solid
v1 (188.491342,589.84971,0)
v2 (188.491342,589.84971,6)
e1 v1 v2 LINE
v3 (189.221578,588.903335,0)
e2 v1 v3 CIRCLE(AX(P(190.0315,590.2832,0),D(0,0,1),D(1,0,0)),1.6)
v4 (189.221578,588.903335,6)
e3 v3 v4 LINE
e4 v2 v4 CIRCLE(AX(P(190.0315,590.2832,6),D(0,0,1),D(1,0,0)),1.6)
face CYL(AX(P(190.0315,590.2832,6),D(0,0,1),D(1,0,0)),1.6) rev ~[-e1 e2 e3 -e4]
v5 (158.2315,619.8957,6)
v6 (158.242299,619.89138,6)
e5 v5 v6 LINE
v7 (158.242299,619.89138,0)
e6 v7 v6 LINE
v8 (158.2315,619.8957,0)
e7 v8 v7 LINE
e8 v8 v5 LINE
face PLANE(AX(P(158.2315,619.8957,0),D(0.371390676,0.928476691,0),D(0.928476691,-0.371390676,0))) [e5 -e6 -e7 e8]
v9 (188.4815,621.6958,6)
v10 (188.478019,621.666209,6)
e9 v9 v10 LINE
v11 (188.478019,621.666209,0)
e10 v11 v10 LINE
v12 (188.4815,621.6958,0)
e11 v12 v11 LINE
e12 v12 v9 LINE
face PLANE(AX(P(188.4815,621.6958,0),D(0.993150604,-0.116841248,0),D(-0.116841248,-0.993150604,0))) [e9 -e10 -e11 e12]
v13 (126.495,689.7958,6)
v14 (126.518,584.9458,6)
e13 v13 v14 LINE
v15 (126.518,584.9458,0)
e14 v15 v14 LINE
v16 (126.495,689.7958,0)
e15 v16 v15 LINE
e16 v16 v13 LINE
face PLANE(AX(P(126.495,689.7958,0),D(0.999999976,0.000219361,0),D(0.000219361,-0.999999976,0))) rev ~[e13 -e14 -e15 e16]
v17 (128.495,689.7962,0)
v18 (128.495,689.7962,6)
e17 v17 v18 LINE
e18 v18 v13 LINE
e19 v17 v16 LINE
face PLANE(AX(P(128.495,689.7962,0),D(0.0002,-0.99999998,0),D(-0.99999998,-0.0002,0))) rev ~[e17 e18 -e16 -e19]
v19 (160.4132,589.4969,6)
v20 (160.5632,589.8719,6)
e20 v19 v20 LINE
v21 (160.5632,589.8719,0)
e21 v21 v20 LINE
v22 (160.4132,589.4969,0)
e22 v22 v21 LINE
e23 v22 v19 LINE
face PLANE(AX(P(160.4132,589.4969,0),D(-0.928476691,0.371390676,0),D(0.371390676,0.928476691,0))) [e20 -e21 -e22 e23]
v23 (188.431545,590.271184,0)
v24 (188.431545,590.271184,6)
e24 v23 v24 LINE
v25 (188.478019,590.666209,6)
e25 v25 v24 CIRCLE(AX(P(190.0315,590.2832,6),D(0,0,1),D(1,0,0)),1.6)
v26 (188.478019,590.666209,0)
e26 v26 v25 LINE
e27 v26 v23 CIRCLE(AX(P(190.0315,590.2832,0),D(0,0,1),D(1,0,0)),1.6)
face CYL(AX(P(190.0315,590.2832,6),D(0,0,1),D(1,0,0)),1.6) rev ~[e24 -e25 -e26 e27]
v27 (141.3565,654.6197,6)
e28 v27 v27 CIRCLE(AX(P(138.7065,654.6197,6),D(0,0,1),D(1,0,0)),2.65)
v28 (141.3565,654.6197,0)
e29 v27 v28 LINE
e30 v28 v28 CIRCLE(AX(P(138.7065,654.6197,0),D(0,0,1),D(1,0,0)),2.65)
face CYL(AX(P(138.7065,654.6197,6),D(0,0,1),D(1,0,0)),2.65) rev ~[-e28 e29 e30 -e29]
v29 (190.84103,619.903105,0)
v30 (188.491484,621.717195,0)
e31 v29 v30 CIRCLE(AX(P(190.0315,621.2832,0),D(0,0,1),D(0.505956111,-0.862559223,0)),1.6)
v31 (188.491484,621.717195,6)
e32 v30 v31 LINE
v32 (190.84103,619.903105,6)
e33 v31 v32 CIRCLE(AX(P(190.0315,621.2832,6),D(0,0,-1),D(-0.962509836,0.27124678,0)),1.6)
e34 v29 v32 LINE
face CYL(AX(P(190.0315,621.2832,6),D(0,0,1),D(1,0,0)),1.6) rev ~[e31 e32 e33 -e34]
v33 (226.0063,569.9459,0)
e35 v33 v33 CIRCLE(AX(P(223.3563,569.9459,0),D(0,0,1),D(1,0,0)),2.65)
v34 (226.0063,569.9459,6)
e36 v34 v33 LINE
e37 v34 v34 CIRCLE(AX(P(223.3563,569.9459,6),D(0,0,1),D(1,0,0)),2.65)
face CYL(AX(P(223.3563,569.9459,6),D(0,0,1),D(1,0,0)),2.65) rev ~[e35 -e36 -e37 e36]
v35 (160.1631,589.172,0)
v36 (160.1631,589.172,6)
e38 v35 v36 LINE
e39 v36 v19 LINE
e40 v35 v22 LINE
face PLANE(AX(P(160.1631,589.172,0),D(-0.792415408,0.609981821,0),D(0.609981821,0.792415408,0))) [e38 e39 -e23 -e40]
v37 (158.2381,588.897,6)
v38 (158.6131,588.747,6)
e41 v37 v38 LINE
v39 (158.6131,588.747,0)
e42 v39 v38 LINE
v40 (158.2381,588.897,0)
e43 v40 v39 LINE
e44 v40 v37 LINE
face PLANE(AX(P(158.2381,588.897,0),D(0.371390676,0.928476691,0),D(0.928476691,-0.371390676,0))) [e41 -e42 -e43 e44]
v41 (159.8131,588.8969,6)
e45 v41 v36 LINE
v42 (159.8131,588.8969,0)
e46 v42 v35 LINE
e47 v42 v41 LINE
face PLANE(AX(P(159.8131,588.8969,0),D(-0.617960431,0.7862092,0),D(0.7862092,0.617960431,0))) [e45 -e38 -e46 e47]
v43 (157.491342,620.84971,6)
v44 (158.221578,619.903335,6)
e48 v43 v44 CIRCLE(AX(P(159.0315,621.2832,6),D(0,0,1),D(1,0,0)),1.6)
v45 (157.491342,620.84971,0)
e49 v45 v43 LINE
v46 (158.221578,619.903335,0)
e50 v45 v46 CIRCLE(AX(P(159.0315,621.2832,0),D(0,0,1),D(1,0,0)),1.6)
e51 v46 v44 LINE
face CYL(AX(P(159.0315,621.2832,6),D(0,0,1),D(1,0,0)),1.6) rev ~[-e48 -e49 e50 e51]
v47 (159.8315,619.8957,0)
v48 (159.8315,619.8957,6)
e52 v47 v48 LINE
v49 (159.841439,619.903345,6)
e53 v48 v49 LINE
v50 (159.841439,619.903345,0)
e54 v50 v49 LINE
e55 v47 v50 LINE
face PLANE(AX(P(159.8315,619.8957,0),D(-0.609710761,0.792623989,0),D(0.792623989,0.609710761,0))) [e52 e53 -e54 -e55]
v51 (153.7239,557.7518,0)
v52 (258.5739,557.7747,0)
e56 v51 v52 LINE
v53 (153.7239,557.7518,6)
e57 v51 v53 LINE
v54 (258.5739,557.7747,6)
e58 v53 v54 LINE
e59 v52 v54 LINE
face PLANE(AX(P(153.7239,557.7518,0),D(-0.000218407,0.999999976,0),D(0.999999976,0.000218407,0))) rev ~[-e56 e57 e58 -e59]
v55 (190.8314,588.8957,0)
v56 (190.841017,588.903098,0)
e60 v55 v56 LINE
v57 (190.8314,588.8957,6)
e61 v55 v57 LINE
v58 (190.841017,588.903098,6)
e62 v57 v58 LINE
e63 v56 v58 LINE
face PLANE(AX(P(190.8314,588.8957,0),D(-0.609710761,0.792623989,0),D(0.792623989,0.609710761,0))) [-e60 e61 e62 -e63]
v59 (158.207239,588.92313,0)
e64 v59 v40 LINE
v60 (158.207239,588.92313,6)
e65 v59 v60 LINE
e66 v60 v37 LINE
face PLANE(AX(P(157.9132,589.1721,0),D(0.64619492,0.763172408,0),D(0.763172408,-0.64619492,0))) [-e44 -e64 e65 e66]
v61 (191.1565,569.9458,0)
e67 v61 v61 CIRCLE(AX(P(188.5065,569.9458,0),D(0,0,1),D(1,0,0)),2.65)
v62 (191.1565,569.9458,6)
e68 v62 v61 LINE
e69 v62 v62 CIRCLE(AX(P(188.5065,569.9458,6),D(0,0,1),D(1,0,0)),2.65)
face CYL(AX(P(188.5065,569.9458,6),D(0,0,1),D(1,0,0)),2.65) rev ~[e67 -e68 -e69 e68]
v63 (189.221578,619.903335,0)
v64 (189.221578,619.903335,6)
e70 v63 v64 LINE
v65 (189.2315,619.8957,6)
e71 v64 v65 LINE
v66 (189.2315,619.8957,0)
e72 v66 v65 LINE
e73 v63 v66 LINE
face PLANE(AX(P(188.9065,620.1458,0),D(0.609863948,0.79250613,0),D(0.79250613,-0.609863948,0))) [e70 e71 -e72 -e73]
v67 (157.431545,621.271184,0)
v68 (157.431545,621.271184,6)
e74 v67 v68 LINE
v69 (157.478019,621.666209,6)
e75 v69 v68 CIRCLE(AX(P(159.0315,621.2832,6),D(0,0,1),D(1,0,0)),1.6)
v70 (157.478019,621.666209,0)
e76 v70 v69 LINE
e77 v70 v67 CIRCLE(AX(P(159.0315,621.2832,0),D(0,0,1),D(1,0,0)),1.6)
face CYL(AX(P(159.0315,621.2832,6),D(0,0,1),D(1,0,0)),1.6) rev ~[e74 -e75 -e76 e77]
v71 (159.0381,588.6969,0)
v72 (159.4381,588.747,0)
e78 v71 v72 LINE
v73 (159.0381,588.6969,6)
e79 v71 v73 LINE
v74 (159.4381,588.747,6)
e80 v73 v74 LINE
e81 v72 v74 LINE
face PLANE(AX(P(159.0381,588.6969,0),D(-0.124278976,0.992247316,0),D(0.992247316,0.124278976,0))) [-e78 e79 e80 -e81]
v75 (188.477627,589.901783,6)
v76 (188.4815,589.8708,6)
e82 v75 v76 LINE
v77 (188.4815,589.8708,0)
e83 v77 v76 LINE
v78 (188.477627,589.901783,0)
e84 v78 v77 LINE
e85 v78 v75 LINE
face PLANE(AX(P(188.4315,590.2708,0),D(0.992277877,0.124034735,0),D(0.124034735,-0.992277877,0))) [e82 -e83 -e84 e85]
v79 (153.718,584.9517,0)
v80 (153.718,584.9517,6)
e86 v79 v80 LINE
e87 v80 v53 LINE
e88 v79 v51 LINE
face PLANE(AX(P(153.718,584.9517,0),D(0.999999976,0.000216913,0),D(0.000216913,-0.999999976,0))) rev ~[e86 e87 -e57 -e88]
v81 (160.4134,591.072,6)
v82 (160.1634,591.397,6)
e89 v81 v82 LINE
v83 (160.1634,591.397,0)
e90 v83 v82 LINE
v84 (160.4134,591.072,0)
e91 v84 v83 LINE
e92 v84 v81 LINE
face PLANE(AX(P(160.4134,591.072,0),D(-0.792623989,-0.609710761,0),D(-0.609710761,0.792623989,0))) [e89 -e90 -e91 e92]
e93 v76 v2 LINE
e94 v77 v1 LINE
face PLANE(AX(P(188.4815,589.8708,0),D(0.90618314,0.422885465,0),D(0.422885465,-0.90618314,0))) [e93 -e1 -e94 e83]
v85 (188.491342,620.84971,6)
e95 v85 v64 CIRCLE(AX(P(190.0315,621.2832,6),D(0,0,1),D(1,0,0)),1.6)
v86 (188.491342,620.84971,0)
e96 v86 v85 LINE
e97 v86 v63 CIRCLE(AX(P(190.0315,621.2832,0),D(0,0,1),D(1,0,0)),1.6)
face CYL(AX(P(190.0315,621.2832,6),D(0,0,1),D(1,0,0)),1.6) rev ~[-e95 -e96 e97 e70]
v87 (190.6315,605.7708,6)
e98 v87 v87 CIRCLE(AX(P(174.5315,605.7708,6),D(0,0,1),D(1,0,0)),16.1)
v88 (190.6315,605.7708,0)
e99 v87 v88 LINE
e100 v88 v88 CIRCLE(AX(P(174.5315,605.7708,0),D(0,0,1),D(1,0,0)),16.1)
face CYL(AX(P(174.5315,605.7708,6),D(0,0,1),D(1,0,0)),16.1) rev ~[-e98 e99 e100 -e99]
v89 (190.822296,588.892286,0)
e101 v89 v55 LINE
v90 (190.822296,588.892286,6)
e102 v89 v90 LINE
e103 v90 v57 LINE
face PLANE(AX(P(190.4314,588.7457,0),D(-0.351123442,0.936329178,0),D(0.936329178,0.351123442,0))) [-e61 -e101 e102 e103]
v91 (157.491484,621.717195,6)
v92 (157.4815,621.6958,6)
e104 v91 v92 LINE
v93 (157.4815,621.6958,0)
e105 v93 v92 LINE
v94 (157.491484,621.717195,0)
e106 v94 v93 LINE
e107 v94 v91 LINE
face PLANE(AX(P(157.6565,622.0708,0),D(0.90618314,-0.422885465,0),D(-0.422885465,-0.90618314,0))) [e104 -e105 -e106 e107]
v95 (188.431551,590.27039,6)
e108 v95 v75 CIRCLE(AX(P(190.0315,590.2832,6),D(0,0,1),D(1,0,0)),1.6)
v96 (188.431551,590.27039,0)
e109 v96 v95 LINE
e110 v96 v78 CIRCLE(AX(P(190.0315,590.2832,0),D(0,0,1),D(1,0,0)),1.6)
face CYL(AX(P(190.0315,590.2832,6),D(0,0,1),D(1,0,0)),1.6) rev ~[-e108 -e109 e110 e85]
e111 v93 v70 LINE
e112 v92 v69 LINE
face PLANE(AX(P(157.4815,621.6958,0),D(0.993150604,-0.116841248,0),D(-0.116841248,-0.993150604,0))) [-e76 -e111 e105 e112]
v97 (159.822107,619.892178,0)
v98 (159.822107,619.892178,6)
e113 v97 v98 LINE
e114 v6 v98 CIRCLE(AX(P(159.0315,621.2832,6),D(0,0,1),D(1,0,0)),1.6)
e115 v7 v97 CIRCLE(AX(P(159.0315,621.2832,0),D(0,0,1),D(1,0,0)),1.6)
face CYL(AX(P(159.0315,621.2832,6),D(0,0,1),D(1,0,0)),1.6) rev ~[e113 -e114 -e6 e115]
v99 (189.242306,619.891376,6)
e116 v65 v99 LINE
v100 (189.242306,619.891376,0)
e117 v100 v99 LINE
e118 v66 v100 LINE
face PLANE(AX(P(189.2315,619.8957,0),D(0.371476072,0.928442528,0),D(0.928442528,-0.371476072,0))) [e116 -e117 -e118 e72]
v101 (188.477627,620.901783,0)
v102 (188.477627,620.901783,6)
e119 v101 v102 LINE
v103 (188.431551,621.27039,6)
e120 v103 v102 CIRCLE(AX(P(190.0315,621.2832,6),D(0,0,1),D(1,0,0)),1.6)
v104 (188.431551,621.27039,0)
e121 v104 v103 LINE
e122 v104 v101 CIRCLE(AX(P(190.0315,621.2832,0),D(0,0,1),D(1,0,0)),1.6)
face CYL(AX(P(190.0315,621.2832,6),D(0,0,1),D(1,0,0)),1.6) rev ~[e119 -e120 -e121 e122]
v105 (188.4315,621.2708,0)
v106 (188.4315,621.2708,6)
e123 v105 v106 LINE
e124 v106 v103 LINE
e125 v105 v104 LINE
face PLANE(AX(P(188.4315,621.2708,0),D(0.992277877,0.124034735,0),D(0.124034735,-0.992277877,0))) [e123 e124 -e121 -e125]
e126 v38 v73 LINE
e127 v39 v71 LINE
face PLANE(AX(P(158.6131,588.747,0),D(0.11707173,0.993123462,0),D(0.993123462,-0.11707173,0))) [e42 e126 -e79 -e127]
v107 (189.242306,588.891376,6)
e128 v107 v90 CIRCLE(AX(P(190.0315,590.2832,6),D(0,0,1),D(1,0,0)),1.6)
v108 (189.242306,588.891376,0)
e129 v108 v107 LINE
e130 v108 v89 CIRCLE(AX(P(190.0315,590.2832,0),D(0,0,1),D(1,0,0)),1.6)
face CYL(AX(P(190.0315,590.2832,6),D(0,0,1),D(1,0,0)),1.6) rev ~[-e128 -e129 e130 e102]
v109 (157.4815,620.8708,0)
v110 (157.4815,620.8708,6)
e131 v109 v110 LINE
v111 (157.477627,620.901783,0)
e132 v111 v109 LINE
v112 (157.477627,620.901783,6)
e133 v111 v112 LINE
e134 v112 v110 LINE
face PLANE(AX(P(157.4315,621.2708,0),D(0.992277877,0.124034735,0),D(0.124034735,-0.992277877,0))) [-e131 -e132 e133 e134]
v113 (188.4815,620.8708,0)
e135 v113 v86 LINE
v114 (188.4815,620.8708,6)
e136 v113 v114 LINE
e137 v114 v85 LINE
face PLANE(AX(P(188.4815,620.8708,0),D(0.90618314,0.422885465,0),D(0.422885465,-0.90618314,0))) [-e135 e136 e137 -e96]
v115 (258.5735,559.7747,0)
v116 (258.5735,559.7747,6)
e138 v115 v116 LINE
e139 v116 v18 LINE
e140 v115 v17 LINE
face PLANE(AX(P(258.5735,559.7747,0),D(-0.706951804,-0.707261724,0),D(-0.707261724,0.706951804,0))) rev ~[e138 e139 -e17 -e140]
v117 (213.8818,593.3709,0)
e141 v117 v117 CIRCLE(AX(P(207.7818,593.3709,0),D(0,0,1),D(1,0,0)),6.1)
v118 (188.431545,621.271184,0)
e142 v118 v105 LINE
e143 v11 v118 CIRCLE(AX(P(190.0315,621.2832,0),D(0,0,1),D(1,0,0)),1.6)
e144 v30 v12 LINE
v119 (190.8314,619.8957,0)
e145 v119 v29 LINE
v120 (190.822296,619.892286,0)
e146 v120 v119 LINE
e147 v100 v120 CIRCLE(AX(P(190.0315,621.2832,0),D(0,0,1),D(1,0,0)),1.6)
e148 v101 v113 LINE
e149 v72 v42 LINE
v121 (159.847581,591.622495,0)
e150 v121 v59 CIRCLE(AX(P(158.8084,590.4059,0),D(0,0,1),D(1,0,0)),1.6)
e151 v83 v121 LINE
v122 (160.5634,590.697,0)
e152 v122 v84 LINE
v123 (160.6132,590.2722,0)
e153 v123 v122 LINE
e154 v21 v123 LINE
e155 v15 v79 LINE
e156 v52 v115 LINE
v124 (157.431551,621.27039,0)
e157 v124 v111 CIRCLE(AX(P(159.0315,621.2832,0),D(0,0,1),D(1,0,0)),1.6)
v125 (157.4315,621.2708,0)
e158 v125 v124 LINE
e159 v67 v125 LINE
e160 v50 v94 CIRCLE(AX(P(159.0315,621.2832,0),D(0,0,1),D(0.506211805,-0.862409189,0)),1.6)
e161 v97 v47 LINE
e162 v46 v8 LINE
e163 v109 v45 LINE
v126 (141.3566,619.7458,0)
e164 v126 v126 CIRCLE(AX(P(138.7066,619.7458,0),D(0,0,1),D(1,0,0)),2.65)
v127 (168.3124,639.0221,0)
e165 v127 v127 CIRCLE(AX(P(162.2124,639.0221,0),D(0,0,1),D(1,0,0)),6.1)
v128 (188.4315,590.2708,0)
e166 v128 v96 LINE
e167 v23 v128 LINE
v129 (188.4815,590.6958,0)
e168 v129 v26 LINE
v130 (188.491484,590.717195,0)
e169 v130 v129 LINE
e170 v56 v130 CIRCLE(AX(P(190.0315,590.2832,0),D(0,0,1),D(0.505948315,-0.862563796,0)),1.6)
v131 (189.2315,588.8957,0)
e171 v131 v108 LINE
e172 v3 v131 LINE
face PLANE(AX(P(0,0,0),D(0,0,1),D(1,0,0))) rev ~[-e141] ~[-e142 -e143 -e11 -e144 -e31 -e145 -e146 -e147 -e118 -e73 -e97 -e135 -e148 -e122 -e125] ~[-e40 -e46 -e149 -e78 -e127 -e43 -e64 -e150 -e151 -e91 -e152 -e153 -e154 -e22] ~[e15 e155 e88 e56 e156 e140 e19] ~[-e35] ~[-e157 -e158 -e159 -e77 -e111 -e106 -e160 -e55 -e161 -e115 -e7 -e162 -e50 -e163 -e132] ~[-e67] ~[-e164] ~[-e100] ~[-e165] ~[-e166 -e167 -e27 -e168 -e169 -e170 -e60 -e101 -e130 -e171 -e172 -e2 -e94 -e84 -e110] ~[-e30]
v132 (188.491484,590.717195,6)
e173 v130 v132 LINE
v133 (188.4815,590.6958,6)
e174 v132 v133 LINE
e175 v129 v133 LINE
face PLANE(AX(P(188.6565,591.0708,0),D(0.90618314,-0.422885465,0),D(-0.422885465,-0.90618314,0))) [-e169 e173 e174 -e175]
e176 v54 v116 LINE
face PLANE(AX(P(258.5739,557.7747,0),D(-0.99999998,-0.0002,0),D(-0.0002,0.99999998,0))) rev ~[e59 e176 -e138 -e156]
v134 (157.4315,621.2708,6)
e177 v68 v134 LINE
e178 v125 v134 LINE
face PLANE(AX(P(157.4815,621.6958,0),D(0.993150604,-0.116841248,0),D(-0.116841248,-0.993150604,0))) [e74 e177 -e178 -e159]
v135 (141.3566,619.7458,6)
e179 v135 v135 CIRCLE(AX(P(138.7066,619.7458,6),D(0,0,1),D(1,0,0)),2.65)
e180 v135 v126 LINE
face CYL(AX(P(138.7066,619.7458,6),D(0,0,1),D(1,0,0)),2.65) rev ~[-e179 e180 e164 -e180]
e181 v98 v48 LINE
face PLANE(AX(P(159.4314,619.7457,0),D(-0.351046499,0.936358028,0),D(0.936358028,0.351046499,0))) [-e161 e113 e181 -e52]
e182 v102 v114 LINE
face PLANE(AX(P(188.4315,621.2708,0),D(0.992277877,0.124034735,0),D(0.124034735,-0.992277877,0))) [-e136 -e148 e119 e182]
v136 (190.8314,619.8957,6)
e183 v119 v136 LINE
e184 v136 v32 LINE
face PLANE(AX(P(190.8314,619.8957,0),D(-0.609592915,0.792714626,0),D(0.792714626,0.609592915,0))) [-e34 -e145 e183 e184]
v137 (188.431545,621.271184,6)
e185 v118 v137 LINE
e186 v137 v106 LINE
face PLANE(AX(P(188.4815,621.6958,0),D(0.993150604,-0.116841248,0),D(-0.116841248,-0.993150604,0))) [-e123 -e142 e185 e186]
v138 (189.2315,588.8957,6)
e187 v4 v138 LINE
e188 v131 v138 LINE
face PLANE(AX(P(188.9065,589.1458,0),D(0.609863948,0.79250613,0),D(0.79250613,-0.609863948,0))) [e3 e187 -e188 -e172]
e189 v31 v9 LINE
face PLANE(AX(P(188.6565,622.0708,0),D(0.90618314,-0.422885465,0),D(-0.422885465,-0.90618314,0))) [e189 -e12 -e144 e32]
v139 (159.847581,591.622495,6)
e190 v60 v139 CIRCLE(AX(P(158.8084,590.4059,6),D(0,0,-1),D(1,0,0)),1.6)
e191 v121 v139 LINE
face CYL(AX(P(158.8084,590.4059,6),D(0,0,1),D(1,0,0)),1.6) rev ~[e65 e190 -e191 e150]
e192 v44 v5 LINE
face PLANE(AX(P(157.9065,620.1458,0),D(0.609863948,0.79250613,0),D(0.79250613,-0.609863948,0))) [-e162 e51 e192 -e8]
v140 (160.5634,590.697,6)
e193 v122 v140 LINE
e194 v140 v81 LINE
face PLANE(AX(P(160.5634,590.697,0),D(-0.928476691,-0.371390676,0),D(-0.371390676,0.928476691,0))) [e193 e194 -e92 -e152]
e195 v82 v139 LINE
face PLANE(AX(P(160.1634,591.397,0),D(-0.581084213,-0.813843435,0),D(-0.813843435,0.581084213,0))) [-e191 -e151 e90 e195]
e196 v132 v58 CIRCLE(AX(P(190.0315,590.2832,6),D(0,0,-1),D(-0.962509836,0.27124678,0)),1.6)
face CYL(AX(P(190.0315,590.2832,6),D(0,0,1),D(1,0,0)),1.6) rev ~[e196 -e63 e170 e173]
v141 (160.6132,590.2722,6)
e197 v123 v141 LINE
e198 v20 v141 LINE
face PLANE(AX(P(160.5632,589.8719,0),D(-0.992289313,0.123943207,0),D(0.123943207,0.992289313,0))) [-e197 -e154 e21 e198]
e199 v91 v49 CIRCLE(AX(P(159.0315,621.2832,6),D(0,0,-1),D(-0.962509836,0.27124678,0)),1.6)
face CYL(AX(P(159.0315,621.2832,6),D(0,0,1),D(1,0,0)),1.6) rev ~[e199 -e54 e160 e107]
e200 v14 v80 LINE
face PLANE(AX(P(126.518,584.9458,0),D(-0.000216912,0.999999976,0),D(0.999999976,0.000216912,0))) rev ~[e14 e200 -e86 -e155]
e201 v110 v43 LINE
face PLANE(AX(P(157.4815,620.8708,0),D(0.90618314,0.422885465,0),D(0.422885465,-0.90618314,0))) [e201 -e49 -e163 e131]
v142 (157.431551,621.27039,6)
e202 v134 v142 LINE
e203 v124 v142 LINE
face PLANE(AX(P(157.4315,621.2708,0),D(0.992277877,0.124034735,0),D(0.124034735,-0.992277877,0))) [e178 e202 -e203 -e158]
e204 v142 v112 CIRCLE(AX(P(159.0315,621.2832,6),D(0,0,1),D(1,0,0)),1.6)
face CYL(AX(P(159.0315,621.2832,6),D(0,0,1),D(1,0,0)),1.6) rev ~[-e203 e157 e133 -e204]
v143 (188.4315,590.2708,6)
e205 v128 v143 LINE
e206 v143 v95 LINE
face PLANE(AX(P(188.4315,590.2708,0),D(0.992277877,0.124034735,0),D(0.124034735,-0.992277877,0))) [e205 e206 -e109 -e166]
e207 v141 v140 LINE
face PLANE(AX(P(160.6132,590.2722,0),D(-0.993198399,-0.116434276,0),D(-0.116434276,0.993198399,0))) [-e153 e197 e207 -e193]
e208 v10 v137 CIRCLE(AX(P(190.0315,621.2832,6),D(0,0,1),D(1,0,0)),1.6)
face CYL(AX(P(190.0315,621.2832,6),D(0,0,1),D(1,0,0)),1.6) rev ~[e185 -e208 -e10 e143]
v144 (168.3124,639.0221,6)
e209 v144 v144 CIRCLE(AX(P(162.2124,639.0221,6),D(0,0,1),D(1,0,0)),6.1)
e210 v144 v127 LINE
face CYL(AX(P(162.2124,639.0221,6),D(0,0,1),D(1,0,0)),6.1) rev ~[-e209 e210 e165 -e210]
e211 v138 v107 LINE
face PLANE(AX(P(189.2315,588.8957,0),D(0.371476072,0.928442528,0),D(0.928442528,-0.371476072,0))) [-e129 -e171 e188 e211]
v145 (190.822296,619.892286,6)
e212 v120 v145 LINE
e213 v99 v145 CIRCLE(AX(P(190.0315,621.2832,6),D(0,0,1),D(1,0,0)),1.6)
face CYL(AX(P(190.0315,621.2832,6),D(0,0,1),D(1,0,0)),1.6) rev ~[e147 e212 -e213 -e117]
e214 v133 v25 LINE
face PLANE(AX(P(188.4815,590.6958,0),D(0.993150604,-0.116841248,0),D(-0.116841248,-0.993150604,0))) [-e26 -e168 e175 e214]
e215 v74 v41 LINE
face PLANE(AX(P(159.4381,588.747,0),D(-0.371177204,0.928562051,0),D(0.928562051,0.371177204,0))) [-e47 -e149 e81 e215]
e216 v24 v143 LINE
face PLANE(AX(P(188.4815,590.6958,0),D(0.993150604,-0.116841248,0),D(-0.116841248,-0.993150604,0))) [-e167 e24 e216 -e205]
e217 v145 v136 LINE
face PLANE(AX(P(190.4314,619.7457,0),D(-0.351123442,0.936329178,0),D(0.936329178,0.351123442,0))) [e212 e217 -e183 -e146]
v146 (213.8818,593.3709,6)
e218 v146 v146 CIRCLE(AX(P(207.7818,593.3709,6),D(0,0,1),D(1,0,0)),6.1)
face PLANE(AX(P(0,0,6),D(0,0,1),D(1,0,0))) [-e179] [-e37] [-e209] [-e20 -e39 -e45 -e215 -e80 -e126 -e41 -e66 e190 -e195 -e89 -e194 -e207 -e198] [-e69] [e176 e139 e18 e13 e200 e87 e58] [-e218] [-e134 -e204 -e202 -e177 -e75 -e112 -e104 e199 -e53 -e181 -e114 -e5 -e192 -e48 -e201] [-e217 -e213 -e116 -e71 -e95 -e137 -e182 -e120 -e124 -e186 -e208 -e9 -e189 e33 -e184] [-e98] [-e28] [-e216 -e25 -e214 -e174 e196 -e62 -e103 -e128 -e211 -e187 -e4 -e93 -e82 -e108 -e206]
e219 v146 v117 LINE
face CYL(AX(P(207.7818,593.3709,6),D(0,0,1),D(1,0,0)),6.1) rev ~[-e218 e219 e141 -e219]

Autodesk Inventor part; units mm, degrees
ref_plane "YZ Plane" through (0, 0, 0) normal (1, 0, 0) x (0, 1, 0)
ref_plane "XZ Plane" through (0, 0, 0) normal (0, 1, 0) x (-1, 0, 0)
ref_plane "XY Plane" through (0, 0, 0) normal (0, 0, 1) x (1, 0, 0)
sketch "Sketch1" plane through (0, 0, 0) normal (0, 0, 1) x (1, 0, 0)
  line L0 (141.1314, 655.2458) -> (140.8814, 655.8708)
  line L1 (140.8814, 655.8708) -> (140.4815, 656.3958)
  line L2 (140.4815, 656.3958) -> (139.9565, 656.7958)
  line L3 (139.9565, 656.7958) -> (139.3565, 657.0458)
  line L4 (139.3565, 657.0458) -> (138.7065, 657.1208)
  line L5 (138.7065, 657.1208) -> (138.0565, 657.0457)
  line L6 (138.0565, 657.0457) -> (137.4315, 656.7958)
  line L7 (137.4315, 656.7958) -> (136.9065, 656.3958)
  line L8 (136.9065, 656.3958) -> (136.5065, 655.8708)
  line L9 (136.5065, 655.8708) -> (136.2565, 655.2458)
  line L10 (136.2565, 655.2458) -> (136.1815, 654.5958)
  line L11 (136.1815, 654.5958) -> (136.2565, 653.9458)
  line L12 (136.2565, 653.9458) -> (136.5066, 653.3458)
  line L13 (136.5066, 653.3458) -> (136.9065, 652.8208)
  line L14 (136.9065, 652.8208) -> (137.4315, 652.4208)
  line L15 (137.4315, 652.4208) -> (138.0566, 652.1708)
  line L16 (138.0566, 652.1708) -> (138.7065, 652.0958)
  line L17 (138.7065, 652.0958) -> (139.3565, 652.1708)
  line L18 (139.3565, 652.1708) -> (139.9565, 652.4209)
  line L19 (139.9565, 652.4209) -> (140.4815, 652.8208)
  line L20 (140.4815, 652.8208) -> (140.8815, 653.3458)
  line L21 (140.8815, 653.3458) -> (141.1316, 653.9458)
  line L22 (141.1316, 653.9458) -> (141.2315, 654.5952)
  line L23 (141.2315, 654.5952) -> (141.1314, 655.2458)
  line L24 (141.1315, 620.3958) -> (140.8816, 621.0208)
  line L25 (140.8816, 621.0208) -> (140.4817, 621.5458)
  line L26 (140.4817, 621.5458) -> (139.9567, 621.9458)
  line L27 (139.9567, 621.9458) -> (139.3567, 622.1958)
  line L28 (139.3567, 622.1958) -> (138.7067, 622.2708)
  line L29 (138.7067, 622.2708) -> (138.0565, 622.1957)
  line L30 (138.0565, 622.1957) -> (137.4315, 621.9458)
  line L31 (137.4315, 621.9458) -> (136.9065, 621.5458)
  line L32 (136.9065, 621.5458) -> (136.5065, 621.0208)
  line L33 (136.5065, 621.0208) -> (136.2565, 620.3958)
  line L34 (136.2565, 620.3958) -> (136.1815, 619.7458)
  line L35 (136.1815, 619.7458) -> (136.2565, 619.0958)
  line L36 (136.2565, 619.0958) -> (136.5066, 618.4958)
  line L37 (136.5066, 618.4958) -> (136.9065, 617.9708)
  line L38 (136.9065, 617.9708) -> (137.4315, 617.5708)
  line L39 (137.4315, 617.5708) -> (138.0566, 617.3208)
  line L40 (138.0566, 617.3208) -> (138.7065, 617.2208)
  line L41 (138.7065, 617.2208) -> (139.3565, 617.3208)
  line L42 (139.3565, 617.3208) -> (139.9565, 617.5708)
  line L43 (139.9565, 617.5708) -> (140.4815, 617.9708)
  line L44 (140.4815, 617.9708) -> (140.8815, 618.4957)
  line L45 (140.8815, 618.4957) -> (141.1315, 619.0958)
  line L46 (141.1315, 619.0958) -> (141.2316, 619.7458)
  line L47 (141.2316, 619.7458) -> (141.1315, 620.3958)
  line L48 (160.5564, 621.6955) -> (160.4065, 622.0705)
  line L49 (160.4065, 622.0705) -> (160.1565, 622.3956)
  line L50 (160.1565, 622.3956) -> (159.8315, 622.6456)
  line L51 (159.8315, 622.6456) -> (159.4315, 622.8206)
  line L52 (159.4315, 622.8206) -> (159.0316, 622.8707)
  line L53 (159.0316, 622.8707) -> (158.6065, 622.8207)
  line L54 (158.6065, 622.8207) -> (158.2315, 622.6458)
  line L55 (158.2315, 622.6458) -> (157.9065, 622.3958)
  line L56 (157.9065, 622.3958) -> (157.6565, 622.0708)
  line L57 (157.6565, 622.0708) -> (157.4815, 621.6958)
  line L58 (157.4815, 621.6958) -> (157.4315, 621.2708)
  line L59 (157.4315, 621.2708) -> (157.4815, 620.8708)
  line L60 (157.4815, 620.8708) -> (157.6565, 620.4958)
  line L61 (157.6565, 620.4958) -> (157.9065, 620.1458)
  line L62 (157.9065, 620.1458) -> (158.2315, 619.8957)
  line L63 (158.2315, 619.8957) -> (158.6065, 619.7457)
  line L64 (158.6065, 619.7457) -> (159.0315, 619.6957)
  line L65 (159.0315, 619.6957) -> (159.4314, 619.7457)
  line L66 (159.4314, 619.7457) -> (159.8315, 619.8957)
  line L67 (159.8315, 619.8957) -> (160.1565, 620.1457)
  line L68 (160.1565, 620.1457) -> (160.4063, 620.4956)
  line L69 (160.4063, 620.4956) -> (160.5563, 620.8706)
  line L70 (160.5563, 620.8706) -> (160.6063, 621.2705)
  line L71 (160.6063, 621.2705) -> (160.5564, 621.6955)
  line L72 (189.9814, 609.9208) -> (188.3815, 613.7708)
  line L73 (188.3815, 613.7708) -> (185.8314, 617.0958)
  line L74 (185.8314, 617.0958) -> (182.5315, 619.6458)
  line L75 (182.5315, 619.6458) -> (178.6565, 621.2458)
  line L76 (178.6565, 621.2458) -> (174.5315, 621.7708)
  line L77 (174.5315, 621.7708) -> (170.3815, 621.2458)
  line L78 (170.3815, 621.2458) -> (166.5315, 619.6458)
  line L79 (166.5315, 619.6458) -> (163.2065, 617.0958)
  line L80 (163.2065, 617.0958) -> (160.6815, 613.7708)
  line L81 (160.6815, 613.7708) -> (159.0815, 609.9208)
  line L82 (159.0815, 609.9208) -> (158.5315, 605.7708)
  line L83 (158.5315, 605.7708) -> (159.0815, 601.6458)
  line L84 (159.0815, 601.6458) -> (160.6815, 597.7708)
  line L85 (160.6815, 597.7708) -> (163.2065, 594.4708)
  line L86 (163.2065, 594.4708) -> (166.5315, 591.9208)
  line L87 (166.5315, 591.9208) -> (170.3815, 590.3207)
  line L88 (170.3815, 590.3207) -> (174.5315, 589.7708)
  line L89 (174.5315, 589.7708) -> (178.6565, 590.3207)
  line L90 (178.6565, 590.3207) -> (182.5314, 591.9208)
  line L91 (182.5314, 591.9208) -> (185.8314, 594.4708)
  line L92 (185.8314, 594.4708) -> (188.3814, 597.7708)
  line L93 (188.3814, 597.7708) -> (189.9815, 601.6458)
  line L94 (189.9815, 601.6458) -> (190.5315, 605.7706)
  line L95 (190.5315, 605.7706) -> (189.9814, 609.9208)
  line L96 (191.5564, 621.6955) -> (191.4065, 622.0705)
  line L97 (191.4065, 622.0705) -> (191.1565, 622.3955)
  line L98 (191.1565, 622.3955) -> (190.8315, 622.6456)
  line L99 (190.8315, 622.6456) -> (190.4315, 622.8206)
  line L100 (190.4315, 622.8206) -> (190.0316, 622.8706)
  line L101 (190.0316, 622.8706) -> (189.6064, 622.8207)
  line L102 (189.6064, 622.8207) -> (189.2315, 622.6458)
  line L103 (189.2315, 622.6458) -> (188.9065, 622.3958)
  line L104 (188.9065, 622.3958) -> (188.6565, 622.0708)
  line L105 (188.6565, 622.0708) -> (188.4815, 621.6958)
  line L106 (188.4815, 621.6958) -> (188.4315, 621.2708)
  line L107 (188.4315, 621.2708) -> (188.4815, 620.8708)
  line L108 (188.4815, 620.8708) -> (188.6565, 620.4958)
  line L109 (188.6565, 620.4958) -> (188.9065, 620.1458)
  line L110 (188.9065, 620.1458) -> (189.2315, 619.8957)
  line L111 (189.2315, 619.8957) -> (189.6064, 619.7457)
  line L112 (189.6064, 619.7457) -> (190.0315, 619.6957)
  line L113 (190.0315, 619.6957) -> (190.4314, 619.7457)
  line L114 (190.4314, 619.7457) -> (190.8314, 619.8957)
  line L115 (190.8314, 619.8957) -> (191.1565, 620.1457)
  line L116 (191.1565, 620.1457) -> (191.4063, 620.4956)
  line L117 (191.4063, 620.4956) -> (191.5563, 620.8706)
  line L118 (191.5563, 620.8706) -> (191.6063, 621.2707)
  line L119 (191.6063, 621.2707) -> (191.5564, 621.6955)
  line L120 (213.5818, 594.921) -> (212.9818, 596.371)
  line L121 (212.9818, 596.371) -> (212.0318, 597.596)
  line L122 (212.0318, 597.596) -> (210.7817, 598.5708)
  line L123 (210.7817, 598.5708) -> (209.3317, 599.1709)
  line L124 (209.3317, 599.1709) -> (207.7817, 599.3708)
  line L125 (207.7817, 599.3708) -> (206.2317, 599.1709)
  line L126 (206.2317, 599.1709) -> (204.7817, 598.5708)
  line L127 (204.7817, 598.5708) -> (203.5317, 597.5958)
  line L128 (203.5317, 597.5958) -> (202.5817, 596.3708)
  line L129 (202.5817, 596.3708) -> (201.9817, 594.9208)
  line L130 (201.9817, 594.9208) -> (201.7817, 593.3708)
  line L131 (201.7817, 593.3708) -> (201.9817, 591.8208)
  line L132 (201.9817, 591.8208) -> (202.5818, 590.3708)
  line L133 (202.5818, 590.3708) -> (203.5318, 589.1209)
  line L134 (203.5318, 589.1209) -> (204.7819, 588.1709)
  line L135 (204.7819, 588.1709) -> (206.2319, 587.5709)
  line L136 (206.2319, 587.5709) -> (207.7819, 587.3709)
  line L137 (207.7819, 587.3709) -> (209.3319, 587.5709)
  line L138 (209.3319, 587.5709) -> (210.7819, 588.171)
  line L139 (210.7819, 588.171) -> (212.0317, 589.121)
  line L140 (212.0317, 589.121) -> (212.9818, 590.3712)
  line L141 (212.9818, 590.3712) -> (213.5818, 591.8212)
  line L142 (213.5818, 591.8212) -> (213.7818, 593.3712)
  line L143 (213.7818, 593.3712) -> (213.5818, 594.921)
  line L144 (191.5564, 590.6955) -> (191.4065, 591.0705)
  line L145 (191.4065, 591.0705) -> (191.1565, 591.3955)
  line L146 (191.1565, 591.3955) -> (190.8315, 591.6456)
  line L147 (190.8315, 591.6456) -> (190.4315, 591.8206)
  line L148 (190.4315, 591.8206) -> (190.0316, 591.8706)
  line L149 (190.0316, 591.8706) -> (189.6065, 591.8207)
  line L150 (189.6065, 591.8207) -> (189.2315, 591.6458)
  line L151 (189.2315, 591.6458) -> (188.9065, 591.3958)
  line L152 (188.9065, 591.3958) -> (188.6565, 591.0708)
  line L153 (188.6565, 591.0708) -> (188.4815, 590.6958)
  line L154 (188.4815, 590.6958) -> (188.4315, 590.2708)
  line L155 (188.4315, 590.2708) -> (188.4815, 589.8708)
  line L156 (188.4815, 589.8708) -> (188.6565, 589.4958)
  line L157 (188.6565, 589.4958) -> (188.9065, 589.1458)
  line L158 (188.9065, 589.1458) -> (189.2315, 588.8957)
  line L159 (189.2315, 588.8957) -> (189.6064, 588.7457)
  line L160 (189.6064, 588.7457) -> (190.0315, 588.6957)
  line L161 (190.0315, 588.6957) -> (190.4314, 588.7457)
  line L162 (190.4314, 588.7457) -> (190.8314, 588.8957)
  line L163 (190.8314, 588.8957) -> (191.1564, 589.1457)
  line L164 (191.1564, 589.1457) -> (191.4063, 589.4956)
  line L165 (191.4063, 589.4956) -> (191.5563, 589.8706)
  line L166 (191.5563, 589.8706) -> (191.6063, 590.2706)
  line L167 (191.6063, 590.2706) -> (191.5564, 590.6955)
  line L168 (190.9314, 570.5957) -> (190.6815, 571.2208)
  line L169 (190.6815, 571.2208) -> (190.2815, 571.7458)
  line L170 (190.2815, 571.7458) -> (189.7565, 572.1457)
  line L171 (189.7565, 572.1457) -> (189.1566, 572.3958)
  line L172 (189.1566, 572.3958) -> (188.5065, 572.4708)
  line L173 (188.5065, 572.4708) -> (187.8565, 572.3957)
  line L174 (187.8565, 572.3957) -> (187.2315, 572.1458)
  line L175 (187.2315, 572.1458) -> (186.7065, 571.7458)
  line L176 (186.7065, 571.7458) -> (186.3065, 571.2208)
  line L177 (186.3065, 571.2208) -> (186.0565, 570.5958)
  line L178 (186.0565, 570.5958) -> (185.9815, 569.9458)
  line L179 (185.9815, 569.9458) -> (186.0566, 569.2958)
  line L180 (186.0566, 569.2958) -> (186.3066, 568.6958)
  line L181 (186.3066, 568.6958) -> (186.7066, 568.1708)
  line L182 (186.7066, 568.1708) -> (187.2316, 567.7708)
  line L183 (187.2316, 567.7708) -> (187.8566, 567.5208)
  line L184 (187.8566, 567.5208) -> (188.5065, 567.4208)
  line L185 (188.5065, 567.4208) -> (189.1566, 567.5208)
  line L186 (189.1566, 567.5208) -> (189.7565, 567.7708)
  line L187 (189.7565, 567.7708) -> (190.2816, 568.1708)
  line L188 (190.2816, 568.1708) -> (190.6816, 568.6958)
  line L189 (190.6816, 568.6958) -> (190.9316, 569.2958)
  line L190 (190.9316, 569.2958) -> (191.0315, 569.9452)
  line L191 (191.0315, 569.9452) -> (190.9314, 570.5957)
  line L192 (225.7813, 570.5958) -> (225.5313, 571.2209)
  line L193 (225.5313, 571.2209) -> (225.1314, 571.7459)
  line L194 (225.1314, 571.7459) -> (224.6064, 572.1458)
  line L195 (224.6064, 572.1458) -> (224.0064, 572.3958)
  line L196 (224.0064, 572.3958) -> (223.3564, 572.4709)
  line L197 (223.3564, 572.4709) -> (222.7064, 572.3958)
  line L198 (222.7064, 572.3958) -> (222.0814, 572.1458)
  line L199 (222.0814, 572.1458) -> (221.5814, 571.7458)
  line L200 (221.5814, 571.7458) -> (221.1814, 571.2208)
  line L201 (221.1814, 571.2208) -> (220.9064, 570.5958)
  line L202 (220.9064, 570.5958) -> (220.8314, 569.9458)
  line L203 (220.8314, 569.9458) -> (220.9064, 569.2963)
  line L204 (220.9064, 569.2963) -> (221.1814, 568.696)
  line L205 (221.1814, 568.696) -> (221.5813, 568.171)
  line L206 (221.5813, 568.171) -> (222.0814, 567.771)
  line L207 (222.0814, 567.771) -> (222.7063, 567.521)
  line L208 (222.7063, 567.521) -> (223.3563, 567.421)
  line L209 (223.3563, 567.421) -> (224.0063, 567.521)
  line L210 (224.0063, 567.521) -> (224.6063, 567.771)
  line L211 (224.6063, 567.771) -> (225.1313, 568.171)
  line L212 (225.1313, 568.171) -> (225.5313, 568.696)
  line L213 (225.5313, 568.696) -> (225.7813, 569.296)
  line L214 (225.7813, 569.296) -> (225.8813, 569.9456)
  line L215 (225.8813, 569.9456) -> (225.7813, 570.5958)
  line L216 (160.5634, 590.697) -> (160.4134, 591.072)
  line L217 (160.4134, 591.072) -> (160.1634, 591.397)
  line L218 (160.1634, 591.397) -> (159.8134, 591.6469)
  line L219 (159.8134, 591.6469) -> (159.4383, 591.8219)
  line L220 (159.4383, 591.8219) -> (159.0384, 591.8719)
  line L221 (159.0384, 591.8719) -> (158.6133, 591.822)
  line L222 (158.6133, 591.822) -> (158.2383, 591.647)
  line L223 (158.2383, 591.647) -> (157.9133, 591.397)
  line L224 (157.9133, 591.397) -> (157.6633, 591.0721)
  line L225 (157.6633, 591.0721) -> (157.5133, 590.6971)
  line L226 (157.5133, 590.6971) -> (157.4383, 590.2721)
  line L227 (157.4383, 590.2721) -> (157.5133, 589.8721)
  line L228 (157.5133, 589.8721) -> (157.6632, 589.4971)
  line L229 (157.6632, 589.4971) -> (157.9132, 589.1721)
  line L230 (157.9132, 589.1721) -> (158.2381, 588.897)
  line L231 (158.2381, 588.897) -> (158.6131, 588.747)
  line L232 (158.6131, 588.747) -> (159.0381, 588.6969)
  line L233 (159.0381, 588.6969) -> (159.4381, 588.747)
  line L234 (159.4381, 588.747) -> (159.8131, 588.8969)
  line L235 (159.8131, 588.8969) -> (160.1631, 589.172)
  line L236 (160.1631, 589.172) -> (160.4132, 589.4969)
  line L237 (160.4132, 589.4969) -> (160.5632, 589.8719)
  line L238 (160.5632, 589.8719) -> (160.6132, 590.2722)
  line L239 (160.6132, 590.2722) -> (160.5634, 590.697)
  line L240 (128.495, 689.7962) -> (126.495, 689.7958)
  line L241 (126.495, 689.7958) -> (126.518, 584.9458)
  line L242 (126.518, 584.9458) -> (153.718, 584.9517)
  line L243 (153.718, 584.9517) -> (153.7239, 557.7518)
  line L244 (153.7239, 557.7518) -> (258.5739, 557.7747)
  line L245 (258.5739, 557.7747) -> (258.5735, 559.7747)
  line L246 (258.5735, 559.7747) -> (128.495, 689.7962)
  line L247 (168.0123, 640.5721) -> (167.4122, 642.0222)
  line L248 (167.4122, 642.0222) -> (166.4372, 643.2721)
  line L249 (166.4372, 643.2721) -> (165.2123, 644.2221)
  line L250 (165.2123, 644.2221) -> (163.7623, 644.8221)
  line L251 (163.7623, 644.8221) -> (162.2123, 645.0221)
  line L252 (162.2123, 645.0221) -> (160.6623, 644.8221)
  line L253 (160.6623, 644.8221) -> (159.2123, 644.2221)
  line L254 (159.2123, 644.2221) -> (157.9623, 643.272)
  line L255 (157.9623, 643.272) -> (157.0124, 642.022)
  line L256 (157.0124, 642.022) -> (156.4124, 640.572)
  line L257 (156.4124, 640.572) -> (156.2124, 639.022)
  line L258 (156.2124, 639.022) -> (156.4124, 637.472)
  line L259 (156.4124, 637.472) -> (157.0124, 636.022)
  line L260 (157.0124, 636.022) -> (157.9625, 634.7721)
  line L261 (157.9625, 634.7721) -> (159.2125, 633.8221)
  line L262 (159.2125, 633.8221) -> (160.6626, 633.2221)
  line L263 (160.6626, 633.2221) -> (162.2125, 633.0221)
  line L264 (162.2125, 633.0221) -> (163.7626, 633.2221)
  line L265 (163.7626, 633.2221) -> (165.2125, 633.8221)
  line L266 (165.2125, 633.8221) -> (166.4375, 634.7721)
  line L267 (166.4375, 634.7721) -> (167.4122, 636.022)
  line L268 (167.4122, 636.022) -> (168.0123, 637.4721)
  line L269 (168.0123, 637.4721) -> (168.2123, 639.0222)
  line L270 (168.2123, 639.0222) -> (168.0123, 640.5721)
  line L271 (258.4596, 560.9292) -> (260.4596, 560.9297)
  point P0 (0, 0)
extrude "Extrusion1" add sketch "Sketch1" along normal blind 6
sketch "Sketch2" plane through (0, 0, 6) normal (0, 0, 1) x (1, 0, 0)
  line L0 (138.7065, 652.0958) -> (138.0566, 652.1708) projected
  line L1 (138.7065, 657.1436) -> (138.7065, 652.0958)
  line L2 (163.7623, 644.8221) -> (162.2123, 645.0221) projected
  line L3 (162.2125, 633.0221) -> (163.7626, 633.2221) projected
  line L4 (162.2123, 645.0221) -> (162.2125, 633.0221)
  line L5 (189.6064, 622.8207) -> (190.0316, 622.8706) projected
  line L6 (190.4314, 619.7457) -> (190.0315, 619.6957) projected
  line L7 (190.0316, 622.8706) -> (190.0315, 619.6957)
  line L8 (206.2317, 599.1709) -> (207.7817, 599.3708) projected
  line L9 (209.3319, 587.5709) -> (207.7819, 587.3709) projected
  line L10 (207.7817, 599.3708) -> (207.7819, 587.3709)
  line L11 (223.3564, 572.4709) -> (224.0064, 572.3958) projected
  line L12 (224.0063, 567.521) -> (223.3563, 567.421) projected
  line L13 (223.3564, 572.4709) -> (223.3563, 567.421)
  line L14 (188.5065, 572.4708) -> (188.5065, 567.4208)
  line L15 (190.0316, 591.8706) -> (189.6065, 591.8207) projected
  line L16 (189.6064, 588.7457) -> (190.0315, 588.6957) projected
  line L17 (190.0316, 591.8706) -> (190.0315, 588.6957)
  line L18 (158.6133, 591.822) -> (159.0384, 591.8719) projected
  line L19 (159.0381, 588.6969) -> (158.6131, 588.747) projected
  line L20 (159.0384, 591.8719) -> (159.0381, 588.6969)
  line L21 (138.7067, 622.2708) -> (139.3567, 622.1958) projected
  line L22 (139.3565, 617.3208) -> (138.7065, 617.2208) projected
  line L23 (138.7067, 622.2708) -> (138.7065, 617.2208)
  line L24 (159.0316, 622.8707) -> (158.6065, 622.8207) projected
  line L25 (158.6065, 619.7457) -> (159.0315, 619.6957) projected
  line L26 (159.0316, 622.8707) -> (159.0315, 619.6957)
  line L27 (174.5315, 621.7708) -> (178.6565, 621.2458) projected
  line L28 (170.3815, 590.3207) -> (174.5315, 589.7708) projected
  line L29 (174.5315, 621.7708) -> (174.5315, 589.7708)
  circle A0 centre (138.7065, 654.6197) radius 2.65
  circle A1 centre (138.7066, 619.7458) radius 2.65
  circle A2 centre (188.5065, 569.9458) radius 2.65
  circle A3 centre (223.3563, 569.9459) radius 2.65
  circle A4 centre (190.0315, 590.2832) radius 1.6
  circle A5 centre (158.8084, 590.4059) radius 1.6
  circle A6 centre (159.0315, 621.2832) radius 1.6
  circle A7 centre (190.0315, 621.2832) radius 1.6
  circle A8 centre (207.7818, 593.3709) radius 6.1
  circle A9 centre (162.2124, 639.0221) radius 6.1
  circle A10 centre (174.5315, 605.7708) radius 16.1
  point P0 (0, 0)
  dimension "d2" = 5.3
  dimension "d3" = 5.3
  dimension "d4" = 5.3
  dimension "d5" = 5.3
  dimension "d6" = 3.2
  dimension "d7" = 3.2
  dimension "d8" = 3.2
  dimension "d9" = 3.2
  dimension "d10" = 12.2
  dimension "d11" = 12.2
  dimension "d12" = 32.2
extrude "Extrusion3" cut sketch "Sketch2" against normal blind 6
properties part number "Z Motor Mount Right"
